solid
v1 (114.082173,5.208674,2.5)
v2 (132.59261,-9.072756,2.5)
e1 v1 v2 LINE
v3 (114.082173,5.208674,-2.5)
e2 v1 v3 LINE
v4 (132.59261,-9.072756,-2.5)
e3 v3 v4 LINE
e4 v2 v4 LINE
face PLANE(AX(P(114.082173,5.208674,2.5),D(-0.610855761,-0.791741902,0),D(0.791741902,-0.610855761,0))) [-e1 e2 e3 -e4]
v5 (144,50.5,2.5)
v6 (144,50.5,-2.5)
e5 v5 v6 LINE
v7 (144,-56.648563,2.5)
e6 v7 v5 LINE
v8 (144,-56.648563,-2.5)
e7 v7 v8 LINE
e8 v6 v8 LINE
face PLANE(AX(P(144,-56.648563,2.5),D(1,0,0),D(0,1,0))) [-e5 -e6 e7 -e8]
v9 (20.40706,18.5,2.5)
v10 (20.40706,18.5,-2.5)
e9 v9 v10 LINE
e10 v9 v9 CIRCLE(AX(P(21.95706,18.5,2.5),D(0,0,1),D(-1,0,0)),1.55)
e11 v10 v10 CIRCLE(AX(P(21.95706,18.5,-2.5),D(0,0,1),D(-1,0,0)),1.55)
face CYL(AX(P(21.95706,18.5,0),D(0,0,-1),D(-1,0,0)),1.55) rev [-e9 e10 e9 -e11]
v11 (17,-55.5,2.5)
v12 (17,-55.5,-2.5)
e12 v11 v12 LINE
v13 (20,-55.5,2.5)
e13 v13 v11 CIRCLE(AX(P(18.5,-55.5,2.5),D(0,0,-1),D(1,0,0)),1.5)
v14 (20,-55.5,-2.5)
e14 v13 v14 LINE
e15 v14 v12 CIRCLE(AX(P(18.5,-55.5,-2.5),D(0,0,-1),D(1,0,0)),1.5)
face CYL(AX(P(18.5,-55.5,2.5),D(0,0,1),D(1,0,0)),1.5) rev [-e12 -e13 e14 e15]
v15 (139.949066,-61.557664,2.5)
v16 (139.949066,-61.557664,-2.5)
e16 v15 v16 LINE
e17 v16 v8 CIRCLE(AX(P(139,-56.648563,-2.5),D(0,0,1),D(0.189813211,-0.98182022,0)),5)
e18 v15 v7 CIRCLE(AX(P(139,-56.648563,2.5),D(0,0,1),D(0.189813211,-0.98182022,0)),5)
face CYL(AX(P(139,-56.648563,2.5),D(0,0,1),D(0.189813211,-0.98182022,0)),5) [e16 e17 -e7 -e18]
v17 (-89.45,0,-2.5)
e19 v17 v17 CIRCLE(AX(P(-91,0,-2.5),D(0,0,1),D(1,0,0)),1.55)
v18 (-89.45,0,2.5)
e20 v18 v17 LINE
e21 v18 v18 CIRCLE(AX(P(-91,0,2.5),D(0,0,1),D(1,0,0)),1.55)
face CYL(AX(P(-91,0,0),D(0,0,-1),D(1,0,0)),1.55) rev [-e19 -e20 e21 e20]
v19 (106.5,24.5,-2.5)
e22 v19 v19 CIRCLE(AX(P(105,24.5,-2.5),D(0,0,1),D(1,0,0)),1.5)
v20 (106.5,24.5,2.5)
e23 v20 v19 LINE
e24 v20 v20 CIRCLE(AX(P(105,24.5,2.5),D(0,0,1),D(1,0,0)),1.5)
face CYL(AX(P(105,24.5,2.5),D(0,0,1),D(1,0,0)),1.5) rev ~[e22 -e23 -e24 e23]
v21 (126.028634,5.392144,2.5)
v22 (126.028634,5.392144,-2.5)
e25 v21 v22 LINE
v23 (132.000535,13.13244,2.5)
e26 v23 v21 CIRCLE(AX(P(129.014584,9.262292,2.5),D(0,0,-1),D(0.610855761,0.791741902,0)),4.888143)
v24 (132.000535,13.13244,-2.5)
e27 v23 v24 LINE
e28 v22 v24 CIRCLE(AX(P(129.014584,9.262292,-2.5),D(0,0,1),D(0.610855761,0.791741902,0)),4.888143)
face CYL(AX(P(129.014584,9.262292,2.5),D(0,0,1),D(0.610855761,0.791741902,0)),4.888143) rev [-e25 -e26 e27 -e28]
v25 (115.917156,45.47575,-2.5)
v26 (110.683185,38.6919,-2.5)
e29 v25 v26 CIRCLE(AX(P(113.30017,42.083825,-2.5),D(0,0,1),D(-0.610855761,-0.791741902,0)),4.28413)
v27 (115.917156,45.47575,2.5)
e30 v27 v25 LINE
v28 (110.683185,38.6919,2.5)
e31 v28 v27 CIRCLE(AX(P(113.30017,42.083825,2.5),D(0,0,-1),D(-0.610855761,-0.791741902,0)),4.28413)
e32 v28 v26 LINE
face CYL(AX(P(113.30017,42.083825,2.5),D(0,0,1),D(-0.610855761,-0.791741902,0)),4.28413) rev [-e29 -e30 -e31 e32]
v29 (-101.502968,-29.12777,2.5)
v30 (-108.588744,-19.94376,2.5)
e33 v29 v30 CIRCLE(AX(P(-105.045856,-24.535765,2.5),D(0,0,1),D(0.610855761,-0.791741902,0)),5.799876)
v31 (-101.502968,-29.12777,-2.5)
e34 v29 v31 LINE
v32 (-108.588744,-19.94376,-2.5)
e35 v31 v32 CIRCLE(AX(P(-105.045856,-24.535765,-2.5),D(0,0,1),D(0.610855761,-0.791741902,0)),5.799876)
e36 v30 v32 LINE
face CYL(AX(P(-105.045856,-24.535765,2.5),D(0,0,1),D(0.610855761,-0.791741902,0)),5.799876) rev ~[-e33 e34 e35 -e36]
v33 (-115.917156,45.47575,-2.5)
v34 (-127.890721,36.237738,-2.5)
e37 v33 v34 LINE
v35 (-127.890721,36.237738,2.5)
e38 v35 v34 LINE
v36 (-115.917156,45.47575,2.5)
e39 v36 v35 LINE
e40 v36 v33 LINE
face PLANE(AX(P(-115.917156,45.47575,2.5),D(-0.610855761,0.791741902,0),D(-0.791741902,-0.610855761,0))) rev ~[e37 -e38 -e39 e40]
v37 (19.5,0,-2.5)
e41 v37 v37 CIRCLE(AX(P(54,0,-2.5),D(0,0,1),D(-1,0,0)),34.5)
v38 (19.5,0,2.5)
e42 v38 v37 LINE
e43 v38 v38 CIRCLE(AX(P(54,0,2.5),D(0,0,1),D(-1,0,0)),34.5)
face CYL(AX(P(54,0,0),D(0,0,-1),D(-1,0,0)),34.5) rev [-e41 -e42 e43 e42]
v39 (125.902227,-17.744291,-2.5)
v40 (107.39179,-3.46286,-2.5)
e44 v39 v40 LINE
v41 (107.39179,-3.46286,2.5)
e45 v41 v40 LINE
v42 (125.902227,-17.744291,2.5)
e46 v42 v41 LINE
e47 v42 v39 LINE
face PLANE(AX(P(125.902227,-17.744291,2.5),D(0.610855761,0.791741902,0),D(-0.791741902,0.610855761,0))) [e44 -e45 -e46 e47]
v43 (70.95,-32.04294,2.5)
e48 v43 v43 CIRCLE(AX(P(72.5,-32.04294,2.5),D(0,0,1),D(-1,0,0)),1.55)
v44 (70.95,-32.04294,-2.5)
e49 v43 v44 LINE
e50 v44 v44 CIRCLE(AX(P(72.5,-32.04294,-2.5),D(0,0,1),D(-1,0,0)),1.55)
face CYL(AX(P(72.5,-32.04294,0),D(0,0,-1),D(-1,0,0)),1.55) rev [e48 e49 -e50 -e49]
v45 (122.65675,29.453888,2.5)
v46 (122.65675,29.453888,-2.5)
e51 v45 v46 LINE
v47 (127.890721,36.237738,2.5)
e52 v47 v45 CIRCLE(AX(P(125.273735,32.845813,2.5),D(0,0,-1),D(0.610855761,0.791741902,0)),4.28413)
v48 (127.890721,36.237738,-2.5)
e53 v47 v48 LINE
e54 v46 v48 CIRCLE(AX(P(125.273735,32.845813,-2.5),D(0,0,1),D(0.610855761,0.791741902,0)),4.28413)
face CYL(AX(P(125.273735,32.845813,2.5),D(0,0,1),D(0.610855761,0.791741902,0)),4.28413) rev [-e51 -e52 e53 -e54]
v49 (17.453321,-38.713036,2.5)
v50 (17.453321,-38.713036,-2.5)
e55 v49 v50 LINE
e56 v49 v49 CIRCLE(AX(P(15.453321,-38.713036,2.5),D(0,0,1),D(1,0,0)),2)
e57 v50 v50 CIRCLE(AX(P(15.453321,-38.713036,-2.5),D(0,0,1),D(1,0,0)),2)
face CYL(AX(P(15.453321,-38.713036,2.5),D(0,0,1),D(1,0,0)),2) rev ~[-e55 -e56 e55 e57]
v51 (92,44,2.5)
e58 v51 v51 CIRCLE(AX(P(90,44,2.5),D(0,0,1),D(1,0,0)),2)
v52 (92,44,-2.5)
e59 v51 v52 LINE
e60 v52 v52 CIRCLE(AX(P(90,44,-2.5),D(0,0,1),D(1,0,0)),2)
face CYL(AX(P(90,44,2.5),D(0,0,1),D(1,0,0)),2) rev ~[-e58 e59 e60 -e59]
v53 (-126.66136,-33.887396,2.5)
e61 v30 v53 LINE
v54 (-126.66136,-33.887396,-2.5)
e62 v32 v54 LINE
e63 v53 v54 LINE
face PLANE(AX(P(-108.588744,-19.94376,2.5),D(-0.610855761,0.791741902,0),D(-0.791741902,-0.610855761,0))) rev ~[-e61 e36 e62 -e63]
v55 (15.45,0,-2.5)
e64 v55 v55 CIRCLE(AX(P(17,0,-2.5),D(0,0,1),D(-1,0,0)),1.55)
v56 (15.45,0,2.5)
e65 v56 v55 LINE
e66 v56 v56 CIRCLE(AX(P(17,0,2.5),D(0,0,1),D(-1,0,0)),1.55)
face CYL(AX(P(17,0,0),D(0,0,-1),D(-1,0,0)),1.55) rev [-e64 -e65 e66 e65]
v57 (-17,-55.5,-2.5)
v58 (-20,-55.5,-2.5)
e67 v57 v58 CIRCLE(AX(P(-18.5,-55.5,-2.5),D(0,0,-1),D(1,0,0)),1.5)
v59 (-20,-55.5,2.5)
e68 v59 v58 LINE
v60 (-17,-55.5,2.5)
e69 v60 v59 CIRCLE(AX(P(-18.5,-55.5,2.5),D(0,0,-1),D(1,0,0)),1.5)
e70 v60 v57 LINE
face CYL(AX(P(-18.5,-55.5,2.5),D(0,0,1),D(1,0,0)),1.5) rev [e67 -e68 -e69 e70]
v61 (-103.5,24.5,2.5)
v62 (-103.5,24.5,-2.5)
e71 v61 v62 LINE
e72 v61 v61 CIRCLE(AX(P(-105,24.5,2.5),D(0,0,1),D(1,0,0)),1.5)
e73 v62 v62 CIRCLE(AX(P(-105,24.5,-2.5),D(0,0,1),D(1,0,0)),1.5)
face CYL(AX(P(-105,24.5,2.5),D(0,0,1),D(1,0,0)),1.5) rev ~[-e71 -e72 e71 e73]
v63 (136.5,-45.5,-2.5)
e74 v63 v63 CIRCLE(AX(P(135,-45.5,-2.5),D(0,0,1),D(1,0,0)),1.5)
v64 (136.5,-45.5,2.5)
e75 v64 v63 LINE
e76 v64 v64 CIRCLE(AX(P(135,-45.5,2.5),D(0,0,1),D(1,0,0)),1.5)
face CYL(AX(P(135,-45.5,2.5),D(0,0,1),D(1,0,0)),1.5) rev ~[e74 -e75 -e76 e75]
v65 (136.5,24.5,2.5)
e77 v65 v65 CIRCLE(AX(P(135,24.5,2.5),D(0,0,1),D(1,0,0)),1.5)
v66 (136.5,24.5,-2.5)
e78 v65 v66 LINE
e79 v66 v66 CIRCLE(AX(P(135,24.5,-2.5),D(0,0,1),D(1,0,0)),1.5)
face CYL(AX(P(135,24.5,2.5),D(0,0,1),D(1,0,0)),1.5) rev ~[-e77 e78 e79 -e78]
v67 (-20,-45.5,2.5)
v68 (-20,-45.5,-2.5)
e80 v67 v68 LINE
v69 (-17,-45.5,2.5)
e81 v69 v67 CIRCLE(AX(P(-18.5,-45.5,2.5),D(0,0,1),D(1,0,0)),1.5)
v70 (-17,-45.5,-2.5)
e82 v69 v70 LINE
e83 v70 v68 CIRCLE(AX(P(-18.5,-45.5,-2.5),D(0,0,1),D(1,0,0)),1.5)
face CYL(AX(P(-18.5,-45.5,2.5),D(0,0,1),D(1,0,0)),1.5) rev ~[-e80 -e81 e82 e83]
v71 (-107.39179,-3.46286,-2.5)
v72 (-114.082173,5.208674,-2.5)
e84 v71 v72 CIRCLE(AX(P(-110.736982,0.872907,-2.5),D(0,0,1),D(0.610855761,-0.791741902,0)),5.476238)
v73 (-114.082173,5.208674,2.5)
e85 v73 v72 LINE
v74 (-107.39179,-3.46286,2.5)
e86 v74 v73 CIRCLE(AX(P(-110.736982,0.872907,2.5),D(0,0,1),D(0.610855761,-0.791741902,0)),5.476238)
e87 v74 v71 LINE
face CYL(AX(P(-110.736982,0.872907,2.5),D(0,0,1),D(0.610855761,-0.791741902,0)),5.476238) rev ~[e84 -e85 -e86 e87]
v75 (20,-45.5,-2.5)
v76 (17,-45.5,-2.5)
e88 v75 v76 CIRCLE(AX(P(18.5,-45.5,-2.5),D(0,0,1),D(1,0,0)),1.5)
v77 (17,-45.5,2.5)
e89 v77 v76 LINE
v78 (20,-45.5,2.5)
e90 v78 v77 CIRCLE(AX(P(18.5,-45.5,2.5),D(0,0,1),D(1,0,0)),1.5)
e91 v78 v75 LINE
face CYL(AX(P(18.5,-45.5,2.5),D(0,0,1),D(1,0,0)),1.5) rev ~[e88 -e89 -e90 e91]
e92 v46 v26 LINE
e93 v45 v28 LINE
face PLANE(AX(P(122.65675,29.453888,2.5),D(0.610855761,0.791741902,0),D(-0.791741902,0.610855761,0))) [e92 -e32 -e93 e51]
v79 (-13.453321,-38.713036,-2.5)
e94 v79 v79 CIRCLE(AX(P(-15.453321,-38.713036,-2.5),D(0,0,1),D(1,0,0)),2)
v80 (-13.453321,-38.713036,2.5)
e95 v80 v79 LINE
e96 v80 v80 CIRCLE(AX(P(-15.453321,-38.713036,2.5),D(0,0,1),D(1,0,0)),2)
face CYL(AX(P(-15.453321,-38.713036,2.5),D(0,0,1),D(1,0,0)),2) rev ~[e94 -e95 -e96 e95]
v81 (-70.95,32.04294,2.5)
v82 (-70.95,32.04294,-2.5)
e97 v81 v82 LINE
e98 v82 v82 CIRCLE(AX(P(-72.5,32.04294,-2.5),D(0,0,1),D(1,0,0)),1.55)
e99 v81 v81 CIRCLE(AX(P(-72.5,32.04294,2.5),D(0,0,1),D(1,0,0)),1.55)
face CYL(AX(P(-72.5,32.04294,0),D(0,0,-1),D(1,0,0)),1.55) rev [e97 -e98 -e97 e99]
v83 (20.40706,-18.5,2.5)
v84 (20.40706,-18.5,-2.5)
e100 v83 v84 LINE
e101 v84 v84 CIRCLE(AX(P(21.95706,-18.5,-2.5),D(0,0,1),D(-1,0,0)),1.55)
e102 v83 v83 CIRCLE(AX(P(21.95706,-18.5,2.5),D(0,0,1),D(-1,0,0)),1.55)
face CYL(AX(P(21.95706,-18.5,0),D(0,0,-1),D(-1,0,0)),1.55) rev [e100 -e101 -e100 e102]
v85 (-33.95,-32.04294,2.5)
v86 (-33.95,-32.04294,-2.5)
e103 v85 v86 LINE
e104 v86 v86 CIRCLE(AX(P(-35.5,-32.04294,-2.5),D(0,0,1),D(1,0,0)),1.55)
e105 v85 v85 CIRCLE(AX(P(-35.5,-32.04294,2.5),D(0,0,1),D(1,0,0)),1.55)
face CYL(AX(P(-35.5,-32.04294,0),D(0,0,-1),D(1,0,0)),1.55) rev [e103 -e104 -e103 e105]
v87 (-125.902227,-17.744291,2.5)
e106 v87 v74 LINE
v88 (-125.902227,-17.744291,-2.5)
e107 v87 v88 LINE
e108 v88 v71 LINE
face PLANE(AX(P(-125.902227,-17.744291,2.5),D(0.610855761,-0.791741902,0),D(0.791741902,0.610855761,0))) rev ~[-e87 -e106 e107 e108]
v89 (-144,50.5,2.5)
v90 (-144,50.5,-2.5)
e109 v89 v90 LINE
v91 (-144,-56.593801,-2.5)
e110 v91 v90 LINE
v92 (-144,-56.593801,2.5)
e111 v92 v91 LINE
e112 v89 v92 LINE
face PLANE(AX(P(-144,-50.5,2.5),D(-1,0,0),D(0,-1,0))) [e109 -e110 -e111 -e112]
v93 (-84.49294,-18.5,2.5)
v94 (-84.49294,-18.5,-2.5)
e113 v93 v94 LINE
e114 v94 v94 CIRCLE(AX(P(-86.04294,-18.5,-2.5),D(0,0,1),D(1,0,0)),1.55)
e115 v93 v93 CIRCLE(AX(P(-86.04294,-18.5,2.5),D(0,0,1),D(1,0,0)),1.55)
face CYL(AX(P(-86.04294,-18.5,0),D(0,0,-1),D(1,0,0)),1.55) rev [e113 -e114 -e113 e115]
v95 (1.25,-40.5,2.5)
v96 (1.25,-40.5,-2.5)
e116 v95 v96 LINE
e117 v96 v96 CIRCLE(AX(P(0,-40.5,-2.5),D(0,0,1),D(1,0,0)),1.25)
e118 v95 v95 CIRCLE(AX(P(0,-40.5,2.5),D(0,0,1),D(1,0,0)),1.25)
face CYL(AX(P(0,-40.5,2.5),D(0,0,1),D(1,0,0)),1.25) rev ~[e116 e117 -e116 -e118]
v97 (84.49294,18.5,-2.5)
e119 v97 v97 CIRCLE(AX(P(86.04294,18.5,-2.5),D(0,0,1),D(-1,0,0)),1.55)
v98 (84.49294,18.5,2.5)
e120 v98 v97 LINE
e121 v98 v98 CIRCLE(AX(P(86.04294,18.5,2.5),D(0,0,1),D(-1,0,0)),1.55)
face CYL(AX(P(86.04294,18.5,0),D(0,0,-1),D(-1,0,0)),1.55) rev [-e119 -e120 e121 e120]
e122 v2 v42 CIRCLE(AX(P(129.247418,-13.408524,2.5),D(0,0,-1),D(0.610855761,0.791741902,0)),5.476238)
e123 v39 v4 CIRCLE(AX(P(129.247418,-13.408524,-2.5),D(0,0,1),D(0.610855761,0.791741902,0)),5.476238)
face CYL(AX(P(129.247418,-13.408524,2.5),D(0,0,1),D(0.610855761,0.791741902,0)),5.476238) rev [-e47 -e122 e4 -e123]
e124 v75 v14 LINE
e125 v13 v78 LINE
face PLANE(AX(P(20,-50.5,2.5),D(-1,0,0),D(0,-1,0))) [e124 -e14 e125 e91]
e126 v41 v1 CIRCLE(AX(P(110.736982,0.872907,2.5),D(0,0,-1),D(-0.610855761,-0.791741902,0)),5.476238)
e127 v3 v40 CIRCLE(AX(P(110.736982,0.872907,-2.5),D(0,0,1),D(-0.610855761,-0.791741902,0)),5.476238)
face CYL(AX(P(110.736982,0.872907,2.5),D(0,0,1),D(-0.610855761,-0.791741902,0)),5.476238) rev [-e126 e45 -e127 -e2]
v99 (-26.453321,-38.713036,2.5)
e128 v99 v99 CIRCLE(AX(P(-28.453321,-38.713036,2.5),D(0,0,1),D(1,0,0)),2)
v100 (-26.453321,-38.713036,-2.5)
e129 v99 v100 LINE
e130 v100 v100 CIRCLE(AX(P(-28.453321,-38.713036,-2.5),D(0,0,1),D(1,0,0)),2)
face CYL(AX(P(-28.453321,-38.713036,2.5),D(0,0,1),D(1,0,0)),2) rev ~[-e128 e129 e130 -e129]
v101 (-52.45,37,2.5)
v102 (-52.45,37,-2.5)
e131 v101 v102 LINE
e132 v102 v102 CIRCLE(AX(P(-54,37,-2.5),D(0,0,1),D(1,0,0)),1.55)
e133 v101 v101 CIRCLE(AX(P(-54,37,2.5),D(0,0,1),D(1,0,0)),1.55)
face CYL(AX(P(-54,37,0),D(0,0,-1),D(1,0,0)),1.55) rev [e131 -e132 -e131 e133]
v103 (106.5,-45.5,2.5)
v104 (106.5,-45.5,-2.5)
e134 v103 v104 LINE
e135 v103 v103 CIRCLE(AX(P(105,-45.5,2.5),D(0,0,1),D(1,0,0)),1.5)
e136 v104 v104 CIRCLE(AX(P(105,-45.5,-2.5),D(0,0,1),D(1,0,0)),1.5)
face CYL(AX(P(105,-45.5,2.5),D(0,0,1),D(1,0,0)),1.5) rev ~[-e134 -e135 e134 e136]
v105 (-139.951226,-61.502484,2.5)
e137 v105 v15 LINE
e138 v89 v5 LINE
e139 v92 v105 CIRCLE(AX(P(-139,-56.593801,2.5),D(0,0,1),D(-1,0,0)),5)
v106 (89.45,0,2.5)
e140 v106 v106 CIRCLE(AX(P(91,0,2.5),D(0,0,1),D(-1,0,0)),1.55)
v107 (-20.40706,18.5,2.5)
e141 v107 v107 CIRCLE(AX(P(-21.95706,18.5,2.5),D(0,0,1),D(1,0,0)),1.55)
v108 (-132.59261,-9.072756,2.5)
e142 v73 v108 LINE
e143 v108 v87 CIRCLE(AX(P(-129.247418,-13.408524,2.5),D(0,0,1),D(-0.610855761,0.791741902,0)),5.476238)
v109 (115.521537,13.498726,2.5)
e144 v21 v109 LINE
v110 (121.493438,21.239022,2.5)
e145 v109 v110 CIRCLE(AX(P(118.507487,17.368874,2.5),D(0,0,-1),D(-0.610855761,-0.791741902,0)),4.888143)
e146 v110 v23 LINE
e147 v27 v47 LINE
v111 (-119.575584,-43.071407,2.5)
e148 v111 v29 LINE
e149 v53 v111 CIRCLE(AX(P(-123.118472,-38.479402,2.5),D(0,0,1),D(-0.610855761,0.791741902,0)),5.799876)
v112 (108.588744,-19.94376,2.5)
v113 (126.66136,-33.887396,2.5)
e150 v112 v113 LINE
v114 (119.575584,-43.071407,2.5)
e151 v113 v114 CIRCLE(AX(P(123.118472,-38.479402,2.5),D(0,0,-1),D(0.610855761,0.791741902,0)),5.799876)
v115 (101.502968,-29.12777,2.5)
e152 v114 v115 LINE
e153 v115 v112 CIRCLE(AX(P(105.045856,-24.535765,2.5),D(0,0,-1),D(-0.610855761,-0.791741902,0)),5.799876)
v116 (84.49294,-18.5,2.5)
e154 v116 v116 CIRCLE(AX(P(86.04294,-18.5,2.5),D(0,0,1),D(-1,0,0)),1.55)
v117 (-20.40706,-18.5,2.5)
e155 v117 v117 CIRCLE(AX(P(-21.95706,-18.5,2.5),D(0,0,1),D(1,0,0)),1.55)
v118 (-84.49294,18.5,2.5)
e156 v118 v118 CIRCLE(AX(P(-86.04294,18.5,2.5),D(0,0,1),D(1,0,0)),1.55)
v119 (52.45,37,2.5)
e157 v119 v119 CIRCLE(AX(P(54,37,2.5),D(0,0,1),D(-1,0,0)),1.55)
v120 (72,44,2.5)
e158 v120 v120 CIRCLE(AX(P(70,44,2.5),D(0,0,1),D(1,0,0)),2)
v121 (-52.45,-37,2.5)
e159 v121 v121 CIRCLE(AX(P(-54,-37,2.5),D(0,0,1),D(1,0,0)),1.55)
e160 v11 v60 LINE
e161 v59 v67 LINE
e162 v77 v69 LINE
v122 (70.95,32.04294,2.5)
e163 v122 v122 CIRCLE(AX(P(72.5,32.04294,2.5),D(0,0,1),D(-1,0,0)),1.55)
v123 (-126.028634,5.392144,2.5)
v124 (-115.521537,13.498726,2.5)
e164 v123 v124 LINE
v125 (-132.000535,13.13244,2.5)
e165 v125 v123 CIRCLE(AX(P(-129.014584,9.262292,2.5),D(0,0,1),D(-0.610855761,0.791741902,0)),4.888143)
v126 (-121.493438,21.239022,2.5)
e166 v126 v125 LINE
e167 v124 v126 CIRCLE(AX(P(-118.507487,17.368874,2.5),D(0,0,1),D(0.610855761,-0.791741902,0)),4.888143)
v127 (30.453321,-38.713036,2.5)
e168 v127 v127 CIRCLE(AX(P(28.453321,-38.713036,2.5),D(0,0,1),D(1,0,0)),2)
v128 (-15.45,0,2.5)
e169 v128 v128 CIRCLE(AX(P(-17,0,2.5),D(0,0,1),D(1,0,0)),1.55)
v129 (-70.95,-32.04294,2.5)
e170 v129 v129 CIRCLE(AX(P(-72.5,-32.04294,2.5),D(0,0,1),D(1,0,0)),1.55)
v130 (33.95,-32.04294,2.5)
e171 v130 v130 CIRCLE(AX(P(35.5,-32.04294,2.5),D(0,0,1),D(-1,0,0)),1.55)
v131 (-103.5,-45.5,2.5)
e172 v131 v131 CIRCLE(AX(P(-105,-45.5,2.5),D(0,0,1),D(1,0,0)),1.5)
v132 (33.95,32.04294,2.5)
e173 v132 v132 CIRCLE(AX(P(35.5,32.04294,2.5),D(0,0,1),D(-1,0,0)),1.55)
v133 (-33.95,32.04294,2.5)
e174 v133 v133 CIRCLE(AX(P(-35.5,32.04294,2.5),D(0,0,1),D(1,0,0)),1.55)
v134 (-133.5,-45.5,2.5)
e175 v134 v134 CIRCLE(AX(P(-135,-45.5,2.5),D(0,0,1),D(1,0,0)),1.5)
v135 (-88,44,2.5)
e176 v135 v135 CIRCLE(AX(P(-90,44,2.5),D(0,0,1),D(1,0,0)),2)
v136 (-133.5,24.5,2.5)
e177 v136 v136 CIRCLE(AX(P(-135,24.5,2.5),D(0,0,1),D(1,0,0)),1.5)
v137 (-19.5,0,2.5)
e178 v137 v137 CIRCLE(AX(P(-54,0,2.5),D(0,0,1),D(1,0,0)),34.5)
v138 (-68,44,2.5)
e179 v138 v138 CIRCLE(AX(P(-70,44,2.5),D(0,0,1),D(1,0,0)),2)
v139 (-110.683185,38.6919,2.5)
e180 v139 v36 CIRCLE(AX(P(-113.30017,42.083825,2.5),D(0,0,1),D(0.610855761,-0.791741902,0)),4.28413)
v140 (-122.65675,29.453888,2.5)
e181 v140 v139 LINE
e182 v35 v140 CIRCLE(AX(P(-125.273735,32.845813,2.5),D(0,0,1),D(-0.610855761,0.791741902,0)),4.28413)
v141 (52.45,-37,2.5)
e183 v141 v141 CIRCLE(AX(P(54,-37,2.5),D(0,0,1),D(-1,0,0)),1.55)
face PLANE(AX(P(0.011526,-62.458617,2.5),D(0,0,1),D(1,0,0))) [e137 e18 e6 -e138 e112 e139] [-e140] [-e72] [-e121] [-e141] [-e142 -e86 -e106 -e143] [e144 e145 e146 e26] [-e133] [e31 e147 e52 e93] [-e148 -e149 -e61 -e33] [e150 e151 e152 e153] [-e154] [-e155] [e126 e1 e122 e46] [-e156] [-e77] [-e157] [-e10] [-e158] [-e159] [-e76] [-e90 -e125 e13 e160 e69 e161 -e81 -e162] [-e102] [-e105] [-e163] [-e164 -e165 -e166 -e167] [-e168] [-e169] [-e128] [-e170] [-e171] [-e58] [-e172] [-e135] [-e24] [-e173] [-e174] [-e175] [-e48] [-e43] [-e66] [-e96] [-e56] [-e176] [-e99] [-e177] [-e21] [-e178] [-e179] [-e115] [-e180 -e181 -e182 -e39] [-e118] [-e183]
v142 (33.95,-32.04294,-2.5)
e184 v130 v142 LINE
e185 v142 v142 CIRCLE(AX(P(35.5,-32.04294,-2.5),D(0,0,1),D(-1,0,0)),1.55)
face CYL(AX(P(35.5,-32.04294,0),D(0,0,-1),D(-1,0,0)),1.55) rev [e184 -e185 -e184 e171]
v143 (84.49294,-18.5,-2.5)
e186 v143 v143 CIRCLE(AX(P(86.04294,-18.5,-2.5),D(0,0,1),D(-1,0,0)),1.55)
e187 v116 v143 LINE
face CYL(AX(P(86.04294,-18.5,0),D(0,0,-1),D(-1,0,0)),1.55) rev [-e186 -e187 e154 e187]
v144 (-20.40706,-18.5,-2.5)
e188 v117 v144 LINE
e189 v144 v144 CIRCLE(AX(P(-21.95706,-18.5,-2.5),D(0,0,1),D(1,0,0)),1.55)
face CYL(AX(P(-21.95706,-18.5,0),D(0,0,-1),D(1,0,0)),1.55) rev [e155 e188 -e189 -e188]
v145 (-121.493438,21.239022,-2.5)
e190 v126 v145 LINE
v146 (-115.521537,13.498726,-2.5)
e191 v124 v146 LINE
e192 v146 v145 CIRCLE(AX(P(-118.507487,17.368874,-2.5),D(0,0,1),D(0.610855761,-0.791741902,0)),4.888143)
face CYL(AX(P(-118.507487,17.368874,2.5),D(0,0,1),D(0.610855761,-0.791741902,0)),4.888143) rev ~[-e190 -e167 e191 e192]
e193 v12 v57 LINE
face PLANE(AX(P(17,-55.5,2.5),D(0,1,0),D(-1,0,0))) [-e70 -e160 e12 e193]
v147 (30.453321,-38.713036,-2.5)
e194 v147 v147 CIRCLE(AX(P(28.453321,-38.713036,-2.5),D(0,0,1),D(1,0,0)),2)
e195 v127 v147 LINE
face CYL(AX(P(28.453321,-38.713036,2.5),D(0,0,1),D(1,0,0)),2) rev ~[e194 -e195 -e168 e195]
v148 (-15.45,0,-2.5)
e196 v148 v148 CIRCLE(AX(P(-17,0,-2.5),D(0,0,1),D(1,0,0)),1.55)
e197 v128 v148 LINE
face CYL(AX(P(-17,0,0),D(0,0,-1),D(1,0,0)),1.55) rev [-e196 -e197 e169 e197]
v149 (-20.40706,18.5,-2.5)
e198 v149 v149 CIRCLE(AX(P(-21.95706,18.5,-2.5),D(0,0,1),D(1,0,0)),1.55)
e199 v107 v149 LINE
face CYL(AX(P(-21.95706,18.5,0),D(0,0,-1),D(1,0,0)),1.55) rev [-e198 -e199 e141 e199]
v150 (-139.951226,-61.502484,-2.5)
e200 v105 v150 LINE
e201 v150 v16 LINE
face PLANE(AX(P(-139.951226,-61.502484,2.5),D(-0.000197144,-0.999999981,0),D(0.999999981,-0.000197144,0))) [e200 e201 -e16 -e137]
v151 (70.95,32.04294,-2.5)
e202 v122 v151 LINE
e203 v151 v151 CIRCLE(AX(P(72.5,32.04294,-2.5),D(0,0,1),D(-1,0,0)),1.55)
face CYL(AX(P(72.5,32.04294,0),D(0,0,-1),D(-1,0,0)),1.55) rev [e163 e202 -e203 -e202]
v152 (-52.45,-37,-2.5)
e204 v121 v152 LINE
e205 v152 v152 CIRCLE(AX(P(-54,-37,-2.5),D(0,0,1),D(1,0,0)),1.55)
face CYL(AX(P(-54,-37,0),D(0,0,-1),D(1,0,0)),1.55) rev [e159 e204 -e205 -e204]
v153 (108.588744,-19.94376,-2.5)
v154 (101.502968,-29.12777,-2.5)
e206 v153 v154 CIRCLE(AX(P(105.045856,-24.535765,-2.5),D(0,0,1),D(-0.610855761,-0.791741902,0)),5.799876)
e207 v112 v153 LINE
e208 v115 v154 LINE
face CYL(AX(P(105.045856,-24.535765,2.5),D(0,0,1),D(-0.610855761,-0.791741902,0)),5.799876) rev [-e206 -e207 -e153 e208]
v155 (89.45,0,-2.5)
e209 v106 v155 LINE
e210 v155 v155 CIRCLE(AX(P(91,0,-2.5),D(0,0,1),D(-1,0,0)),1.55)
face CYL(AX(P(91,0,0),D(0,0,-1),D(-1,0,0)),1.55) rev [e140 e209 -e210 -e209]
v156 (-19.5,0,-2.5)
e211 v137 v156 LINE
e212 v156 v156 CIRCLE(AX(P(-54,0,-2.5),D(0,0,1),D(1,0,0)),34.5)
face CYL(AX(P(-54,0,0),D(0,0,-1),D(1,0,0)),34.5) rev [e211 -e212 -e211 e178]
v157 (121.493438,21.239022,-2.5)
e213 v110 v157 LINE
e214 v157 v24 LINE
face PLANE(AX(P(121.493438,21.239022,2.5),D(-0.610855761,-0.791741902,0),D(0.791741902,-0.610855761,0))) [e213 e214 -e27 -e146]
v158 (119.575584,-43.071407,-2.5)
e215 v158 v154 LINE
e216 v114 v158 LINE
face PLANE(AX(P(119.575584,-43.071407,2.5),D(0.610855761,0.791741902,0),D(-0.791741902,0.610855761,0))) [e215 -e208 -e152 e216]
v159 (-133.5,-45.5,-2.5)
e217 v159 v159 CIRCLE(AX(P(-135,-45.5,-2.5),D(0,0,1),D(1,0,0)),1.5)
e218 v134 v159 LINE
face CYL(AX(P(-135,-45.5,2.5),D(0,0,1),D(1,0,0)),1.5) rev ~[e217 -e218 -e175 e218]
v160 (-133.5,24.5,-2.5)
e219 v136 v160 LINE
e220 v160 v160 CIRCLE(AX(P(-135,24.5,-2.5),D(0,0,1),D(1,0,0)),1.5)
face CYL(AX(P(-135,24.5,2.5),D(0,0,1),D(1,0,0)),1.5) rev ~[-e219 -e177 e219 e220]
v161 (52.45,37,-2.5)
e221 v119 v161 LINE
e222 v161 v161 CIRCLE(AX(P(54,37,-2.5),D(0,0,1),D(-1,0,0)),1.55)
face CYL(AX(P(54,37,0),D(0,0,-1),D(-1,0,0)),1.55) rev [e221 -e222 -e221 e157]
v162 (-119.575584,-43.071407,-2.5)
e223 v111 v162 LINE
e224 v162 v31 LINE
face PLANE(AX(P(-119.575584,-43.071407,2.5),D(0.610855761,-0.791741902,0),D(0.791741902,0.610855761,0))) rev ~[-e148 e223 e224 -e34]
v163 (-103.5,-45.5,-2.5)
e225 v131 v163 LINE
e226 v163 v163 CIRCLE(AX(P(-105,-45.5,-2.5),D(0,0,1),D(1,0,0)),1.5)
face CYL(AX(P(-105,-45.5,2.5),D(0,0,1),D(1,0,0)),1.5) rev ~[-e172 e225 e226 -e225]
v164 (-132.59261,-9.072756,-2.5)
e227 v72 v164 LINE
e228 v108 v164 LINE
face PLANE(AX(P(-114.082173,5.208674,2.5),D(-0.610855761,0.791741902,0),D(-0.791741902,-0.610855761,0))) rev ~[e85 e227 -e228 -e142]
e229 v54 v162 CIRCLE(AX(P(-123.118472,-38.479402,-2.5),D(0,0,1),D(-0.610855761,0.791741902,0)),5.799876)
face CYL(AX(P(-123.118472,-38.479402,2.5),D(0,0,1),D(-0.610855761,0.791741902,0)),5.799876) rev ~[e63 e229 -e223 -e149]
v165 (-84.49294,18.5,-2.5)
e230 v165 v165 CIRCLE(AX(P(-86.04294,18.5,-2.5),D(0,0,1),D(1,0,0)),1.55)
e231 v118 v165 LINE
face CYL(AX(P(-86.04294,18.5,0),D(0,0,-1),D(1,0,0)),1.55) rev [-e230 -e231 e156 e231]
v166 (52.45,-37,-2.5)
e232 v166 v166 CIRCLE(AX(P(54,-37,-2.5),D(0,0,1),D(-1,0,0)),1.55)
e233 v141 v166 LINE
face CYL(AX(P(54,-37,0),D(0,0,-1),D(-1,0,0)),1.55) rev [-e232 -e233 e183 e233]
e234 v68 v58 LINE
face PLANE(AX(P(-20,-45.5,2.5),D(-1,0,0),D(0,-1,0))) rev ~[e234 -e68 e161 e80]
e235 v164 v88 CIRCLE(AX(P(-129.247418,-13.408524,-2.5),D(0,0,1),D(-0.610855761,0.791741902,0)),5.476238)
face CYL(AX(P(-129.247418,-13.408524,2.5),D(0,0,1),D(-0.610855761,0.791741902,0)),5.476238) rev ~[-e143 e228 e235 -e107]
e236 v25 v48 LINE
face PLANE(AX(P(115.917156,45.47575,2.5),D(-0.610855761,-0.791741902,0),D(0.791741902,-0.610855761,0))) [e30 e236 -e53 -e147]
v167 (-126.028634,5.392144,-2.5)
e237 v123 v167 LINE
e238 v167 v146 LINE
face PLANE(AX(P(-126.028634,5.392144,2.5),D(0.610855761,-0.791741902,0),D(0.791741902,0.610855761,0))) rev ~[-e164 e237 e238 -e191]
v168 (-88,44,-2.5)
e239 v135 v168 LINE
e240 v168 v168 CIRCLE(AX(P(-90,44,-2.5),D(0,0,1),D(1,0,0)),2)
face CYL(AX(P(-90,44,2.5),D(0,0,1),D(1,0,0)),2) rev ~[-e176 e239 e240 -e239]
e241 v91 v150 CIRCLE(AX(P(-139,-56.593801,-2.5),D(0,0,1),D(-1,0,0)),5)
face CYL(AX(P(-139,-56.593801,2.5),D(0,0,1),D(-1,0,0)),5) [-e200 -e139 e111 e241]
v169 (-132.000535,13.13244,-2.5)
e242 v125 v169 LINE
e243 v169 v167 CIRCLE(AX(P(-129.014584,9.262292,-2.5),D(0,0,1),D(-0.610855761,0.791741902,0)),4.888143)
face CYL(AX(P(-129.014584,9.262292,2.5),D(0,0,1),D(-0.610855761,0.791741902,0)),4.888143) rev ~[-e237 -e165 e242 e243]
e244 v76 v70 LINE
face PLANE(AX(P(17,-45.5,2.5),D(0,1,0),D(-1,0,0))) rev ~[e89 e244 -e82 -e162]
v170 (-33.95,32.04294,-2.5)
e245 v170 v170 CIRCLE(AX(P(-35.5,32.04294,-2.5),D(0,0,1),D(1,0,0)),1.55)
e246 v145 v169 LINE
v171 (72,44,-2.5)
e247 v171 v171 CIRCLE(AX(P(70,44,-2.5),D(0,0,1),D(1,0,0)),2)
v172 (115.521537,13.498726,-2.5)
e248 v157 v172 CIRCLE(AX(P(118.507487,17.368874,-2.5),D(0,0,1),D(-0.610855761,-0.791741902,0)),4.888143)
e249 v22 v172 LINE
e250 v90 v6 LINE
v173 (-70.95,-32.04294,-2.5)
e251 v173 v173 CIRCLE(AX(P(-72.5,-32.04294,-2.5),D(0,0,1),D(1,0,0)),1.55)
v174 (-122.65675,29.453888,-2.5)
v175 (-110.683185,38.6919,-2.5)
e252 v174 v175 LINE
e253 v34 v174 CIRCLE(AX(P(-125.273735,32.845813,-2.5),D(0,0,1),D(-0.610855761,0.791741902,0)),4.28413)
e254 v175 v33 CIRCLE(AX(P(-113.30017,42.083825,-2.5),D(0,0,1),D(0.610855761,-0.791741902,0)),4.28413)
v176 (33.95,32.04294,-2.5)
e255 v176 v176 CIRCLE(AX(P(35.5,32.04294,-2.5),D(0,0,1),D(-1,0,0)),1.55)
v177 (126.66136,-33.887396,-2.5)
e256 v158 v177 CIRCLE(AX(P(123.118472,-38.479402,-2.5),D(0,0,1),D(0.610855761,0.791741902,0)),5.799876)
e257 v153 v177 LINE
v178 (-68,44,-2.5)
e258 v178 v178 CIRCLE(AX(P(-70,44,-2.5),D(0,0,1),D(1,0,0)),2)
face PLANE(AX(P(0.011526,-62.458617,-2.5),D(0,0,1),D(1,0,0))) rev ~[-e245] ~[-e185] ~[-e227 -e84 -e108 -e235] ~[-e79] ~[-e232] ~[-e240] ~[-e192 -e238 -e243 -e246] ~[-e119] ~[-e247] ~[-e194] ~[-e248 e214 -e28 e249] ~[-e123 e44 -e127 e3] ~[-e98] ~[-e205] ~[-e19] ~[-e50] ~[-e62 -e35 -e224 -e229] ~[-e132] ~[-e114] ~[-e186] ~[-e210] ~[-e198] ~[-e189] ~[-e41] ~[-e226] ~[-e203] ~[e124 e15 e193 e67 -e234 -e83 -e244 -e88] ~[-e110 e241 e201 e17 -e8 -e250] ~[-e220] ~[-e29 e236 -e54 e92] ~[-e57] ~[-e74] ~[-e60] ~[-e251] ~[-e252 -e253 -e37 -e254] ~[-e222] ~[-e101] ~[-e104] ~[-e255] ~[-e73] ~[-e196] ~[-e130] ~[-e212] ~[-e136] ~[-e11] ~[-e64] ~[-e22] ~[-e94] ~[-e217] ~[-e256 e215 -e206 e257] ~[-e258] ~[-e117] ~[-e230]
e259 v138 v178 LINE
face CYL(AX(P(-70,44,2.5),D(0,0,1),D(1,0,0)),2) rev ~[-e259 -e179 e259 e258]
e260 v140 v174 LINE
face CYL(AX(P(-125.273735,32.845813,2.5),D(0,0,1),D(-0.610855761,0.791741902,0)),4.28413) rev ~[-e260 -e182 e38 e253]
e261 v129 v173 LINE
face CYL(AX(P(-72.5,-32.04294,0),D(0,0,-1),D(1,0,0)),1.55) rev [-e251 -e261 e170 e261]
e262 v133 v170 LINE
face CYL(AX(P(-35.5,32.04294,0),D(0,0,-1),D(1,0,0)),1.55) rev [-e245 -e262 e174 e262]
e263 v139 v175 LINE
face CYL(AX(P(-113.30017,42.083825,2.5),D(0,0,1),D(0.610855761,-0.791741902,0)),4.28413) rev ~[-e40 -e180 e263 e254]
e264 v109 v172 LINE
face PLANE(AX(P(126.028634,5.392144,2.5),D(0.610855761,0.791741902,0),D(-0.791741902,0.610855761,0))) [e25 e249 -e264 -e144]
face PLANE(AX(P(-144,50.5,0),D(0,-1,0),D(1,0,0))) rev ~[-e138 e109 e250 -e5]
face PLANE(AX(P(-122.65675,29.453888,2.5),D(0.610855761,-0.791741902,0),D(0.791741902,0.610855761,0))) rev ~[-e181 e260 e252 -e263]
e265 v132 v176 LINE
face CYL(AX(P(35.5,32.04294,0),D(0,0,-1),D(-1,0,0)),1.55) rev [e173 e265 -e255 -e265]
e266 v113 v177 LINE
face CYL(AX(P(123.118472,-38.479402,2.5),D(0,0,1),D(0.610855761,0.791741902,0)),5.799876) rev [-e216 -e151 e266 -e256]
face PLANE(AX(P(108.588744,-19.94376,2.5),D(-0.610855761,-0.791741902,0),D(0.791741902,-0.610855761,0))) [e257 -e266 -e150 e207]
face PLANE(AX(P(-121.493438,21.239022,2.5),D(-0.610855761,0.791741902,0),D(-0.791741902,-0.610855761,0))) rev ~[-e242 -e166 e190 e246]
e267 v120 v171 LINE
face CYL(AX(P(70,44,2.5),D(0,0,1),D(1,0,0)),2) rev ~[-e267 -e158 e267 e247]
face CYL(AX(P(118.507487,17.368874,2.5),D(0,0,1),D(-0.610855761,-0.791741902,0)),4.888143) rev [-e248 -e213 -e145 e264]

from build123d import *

# Parameters (mm, degrees)
SKETCH_1_W          = 288
SKETCH_1_H          = 101
SKETCH_1_R          = 34.5
SKETCH_1_R_2        = 1.55
EXTRUDE_1_DEPTH     = 2.5
SKETCH_2_R          = 1.5
CUT_EXTRUDE_1_DEPTH = 5
EXTRUDE_2_DEPTH     = 5
CUT_EXTRUDE_2_DEPTH = 5
CUT_EXTRUDE_3_DEPTH = 10
SKETCH_5_R          = 2
CUT_EXTRUDE_4_DEPTH = 10
SKETCH_6_R          = 1.25
CUT_EXTRUDE_5_DEPTH = 10
SKETCH_7_R          = 2
CUT_EXTRUDE_6_DEPTH = 5.5
CUT_EXTRUDE_7_DEPTH = 10
SKETCH_9_R          = 2
CUT_EXTRUDE_8_DEPTH = 10
SKETCH_10_R         = 2
CUT_EXTRUDE_9_DEPTH = 10


with BuildPart() as part:
    # 草图1 → 凸台-拉伸1 (new, symmetric)
    with BuildSketch(Plane.XY):
        Rectangle(SKETCH_1_W, SKETCH_1_H)
        with Locations((-54, 0)):
            Circle(SKETCH_1_R, mode=Mode.SUBTRACT)
        with Locations((-54, 37)):
            Circle(SKETCH_1_R_2, mode=Mode.SUBTRACT)
        with Locations((-35.5, 32.04293994)):
            Circle(SKETCH_1_R_2, mode=Mode.SUBTRACT)
        with Locations((-21.95706006, 18.5)):
            Circle(SKETCH_1_R_2, mode=Mode.SUBTRACT)
        with Locations((-17, 0)):
            Circle(SKETCH_1_R_2, mode=Mode.SUBTRACT)
        with Locations((-21.95706006, -18.5)):
            Circle(SKETCH_1_R_2, mode=Mode.SUBTRACT)
        with Locations((-35.5, -32.04293994)):
            Circle(SKETCH_1_R_2, mode=Mode.SUBTRACT)
        with Locations((-54, -37)):
            Circle(SKETCH_1_R_2, mode=Mode.SUBTRACT)
        with Locations((-72.5, -32.04293994)):
            Circle(SKETCH_1_R_2, mode=Mode.SUBTRACT)
        with Locations((-86.04293994, -18.5)):
            Circle(SKETCH_1_R_2, mode=Mode.SUBTRACT)
        with Locations((-91, 0)):
            Circle(SKETCH_1_R_2, mode=Mode.SUBTRACT)
        with Locations((-86.04293994, 18.5)):
            Circle(SKETCH_1_R_2, mode=Mode.SUBTRACT)
        with Locations((-72.5, 32.04293994)):
            Circle(SKETCH_1_R_2, mode=Mode.SUBTRACT)
        with Locations((72.5, 32.04293994)):
            Circle(SKETCH_1_R_2, mode=Mode.SUBTRACT)
        with Locations((86.04293994, 18.5)):
            Circle(SKETCH_1_R_2, mode=Mode.SUBTRACT)
        with Locations((91, 0)):
            Circle(SKETCH_1_R_2, mode=Mode.SUBTRACT)
        with Locations((86.04293994, -18.5)):
            Circle(SKETCH_1_R_2, mode=Mode.SUBTRACT)
        with Locations((72.5, -32.04293994)):
            Circle(SKETCH_1_R_2, mode=Mode.SUBTRACT)
        with Locations((54, -37)):
            Circle(SKETCH_1_R_2, mode=Mode.SUBTRACT)
        with Locations((35.5, -32.04293994)):
            Circle(SKETCH_1_R_2, mode=Mode.SUBTRACT)
        with Locations((21.95706006, -18.5)):
            Circle(SKETCH_1_R_2, mode=Mode.SUBTRACT)
        with Locations((17, 0)):
            Circle(SKETCH_1_R_2, mode=Mode.SUBTRACT)
        with Locations((21.95706006, 18.5)):
            Circle(SKETCH_1_R_2, mode=Mode.SUBTRACT)
        with Locations((35.5, 32.04293994)):
            Circle(SKETCH_1_R_2, mode=Mode.SUBTRACT)
        with Locations((54, 37)):
            Circle(SKETCH_1_R_2, mode=Mode.SUBTRACT)
        with Locations((54, 0)):
            Circle(SKETCH_1_R, mode=Mode.SUBTRACT)
    extrude(amount=EXTRUDE_1_DEPTH, both=True)

    # 草图2 → 切除-拉伸1 (cut)
    with BuildSketch(Plane.XY.offset(2.5)):
        with Locations((135, -45.5)):
            Circle(SKETCH_2_R)
        with Locations((105, -45.5)):
            Circle(SKETCH_2_R)
        with Locations((135, 24.5)):
            Circle(SKETCH_2_R)
        with Locations((105, 24.5)):
            Circle(SKETCH_2_R)
        with Locations((-105, -45.5)):
            Circle(SKETCH_2_R)
        with Locations((-135, -45.5)):
            Circle(SKETCH_2_R)
        with Locations((-105, 24.5)):
            Circle(SKETCH_2_R)
        with Locations((-135, 24.5)):
            Circle(SKETCH_2_R)
    extrude(amount=-CUT_EXTRUDE_1_DEPTH, mode=Mode.SUBTRACT)

    # 草图3 → 凸台-拉伸2 (add)
    with BuildSketch(Plane.XY.offset(2.5)):
        with BuildLine():
            Line((144, -50.5), (20, -50.5))
            Line((20, -50.5), (20, -55.5))
            ThreePointArc((20, -55.5), (18.5, -57), (17, -55.5))
            Line((17, -55.5), (-17, -55.5))
            ThreePointArc((-17, -55.5), (-18.5, -57), (-20, -55.5))
            Line((-20, -55.5), (-20, -50.5))
            Line((-20, -50.5), (-144, -50.5))
            Line((-144, -50.5), (-144, -56.593800871))
            ThreePointArc((-144, -56.593800871), (-142.857209562, -59.775299636), (-139.951226243, -61.502483855))
            Line((-139.951226243, -61.502483855), (-20.471229939, -84.655844628))
            ThreePointArc((-20.471229939, -84.655844628), (-19.997803382, -84.724280033), (-19.520003695, -84.747161644))
            Line((-19.520003695, -84.747161644), (19.521113953, -84.747161644))
            ThreePointArc((19.521113953, -84.747161644), (19.997818521, -84.724385042), (20.470180004, -84.656262746))
            Line((20.470180004, -84.656262746), (139.949066052, -61.557664392))
            ThreePointArc((139.949066052, -61.557664392), (142.856509449, -59.830910673), (144, -56.64856329))
            Line((144, -56.64856329), (144, -50.5))
        make_face()
    extrude(amount=-EXTRUDE_2_DEPTH)

    # 草图3<3> → 切除-拉伸2 (cut)
    with BuildSketch(Plane.XY.offset(2.5)):
        with BuildLine():
            Line((17, -45.5), (-17, -45.5))
            ThreePointArc((-17, -45.5), (-18.5, -44), (-20, -45.5))
            Line((-20, -45.5), (-20, -50.5))
            Line((-20, -50.5), (20, -50.5))
            Line((20, -50.5), (20, -45.5))
            ThreePointArc((20, -45.5), (18.5, -44), (17, -45.5))
        make_face()
    extrude(amount=-CUT_EXTRUDE_2_DEPTH, mode=Mode.SUBTRACT)

    # 草图4 → 切除-拉伸3 (cut)
    with BuildSketch(Plane.XY.offset(2.5)):
        Polygon((-139.951226243, -61.502483855), (139.949066052, -61.557664392), (30.752560592, -109.96050726), align=None)
    extrude(amount=-CUT_EXTRUDE_3_DEPTH, mode=Mode.SUBTRACT)

    # 草图5 → 切除-拉伸4 (cut)
    with BuildSketch(Plane.XY.offset(2.5)):
        with Locations((28.453320593, -38.713035771)):
            Circle(SKETCH_5_R)
        with Locations((-28.453320593, -38.713035771)):
            Circle(SKETCH_5_R)
    extrude(amount=-CUT_EXTRUDE_4_DEPTH, mode=Mode.SUBTRACT)

    # 草图6 → 切除-拉伸5 (cut)
    with BuildSketch(Plane.XY.offset(2.5)):
        with Locations((0, -40.5)):
            Circle(SKETCH_6_R)
    extrude(amount=-CUT_EXTRUDE_5_DEPTH, mode=Mode.SUBTRACT)

    # 草图7 → 切除-拉伸6 (cut)
    with BuildSketch(Plane.XY.offset(2.5)):
        with Locations((90, 44)):
            Circle(SKETCH_7_R)
        with Locations((70, 44)):
            Circle(SKETCH_7_R)
    extrude(amount=-CUT_EXTRUDE_6_DEPTH, mode=Mode.SUBTRACT)

    # 草图8 → 切除-拉伸7 (cut)
    with BuildSketch(Plane.XY.offset(2.5)):
        with BuildLine():
            Line((-126.028633635, 5.392144418), (-115.521536728, 13.498726459))
            ThreePointArc((-115.521536728, 13.498726459), (-114.63733934, 20.354824934), (-121.493437815, 21.239022322))
            Line((-121.493437815, 21.239022322), (-132.000534722, 13.132440281))
            ThreePointArc((-132.000534722, 13.132440281), (-132.88473211, 6.276341806), (-126.028633635, 5.392144418))
        make_face()
        with BuildLine():
            Line((-125.902226808, -17.744290693), (-107.39178991, -3.462860089))
            ThreePointArc((-107.39178991, -3.462860089), (-106.401214333, 4.218098708), (-114.082173129, 5.208674285))
            Line((-114.082173129, 5.208674285), (-132.592610027, -9.072756319))
            ThreePointArc((-132.592610027, -9.072756319), (-133.583185604, -16.753715115), (-125.902226808, -17.744290693))
        make_face()
        with BuildLine():
            Line((-119.575583656, -43.071406764), (-101.502967944, -29.127770071))
            ThreePointArc((-101.502967944, -29.127770071), (-100.453850675, -20.992876886), (-108.58874386, -19.943759617))
            Line((-108.58874386, -19.943759617), (-126.661359573, -33.88739631))
            ThreePointArc((-126.661359573, -33.88739631), (-127.710476842, -42.022289495), (-119.575583656, -43.071406764))
        make_face()
        with BuildLine():
            Line((-115.917155682, 45.475749506), (-127.890720707, 36.237737517))
            ThreePointArc((-127.890720707, 36.237737517), (-128.665660372, 30.228827371), (-122.656750226, 29.453887705))
            Line((-122.656750226, 29.453887705), (-110.683185201, 38.691899695))
            ThreePointArc((-110.683185201, 38.691899695), (-109.908245536, 44.700809841), (-115.917155682, 45.475749506))
        make_face()
        with BuildLine():
            ThreePointArc((122.656750226, 29.453887705), (128.665660372, 30.228827371), (127.890720707, 36.237737517))
            Line((127.890720707, 36.237737517), (115.917155682, 45.475749506))
            ThreePointArc((115.917155682, 45.475749506), (109.908245536, 44.700809841), (110.683185201, 38.691899695))
            Line((110.683185201, 38.691899695), (122.656750226, 29.453887705))
        make_face()
        with BuildLine():
            ThreePointArc((108.58874386, -19.943759617), (100.453850675, -20.992876886), (101.502967944, -29.127770071))
            Line((101.502967944, -29.127770071), (119.575583656, -43.071406764))
            ThreePointArc((119.575583656, -43.071406764), (127.710476842, -42.022289495), (126.661359573, -33.88739631))
            Line((126.661359573, -33.88739631), (108.58874386, -19.943759617))
        make_face()
        with BuildLine():
            ThreePointArc((114.082173129, 5.208674285), (106.401214333, 4.218098708), (107.39178991, -3.462860089))
            Line((107.39178991, -3.462860089), (125.902226808, -17.744290693))
            ThreePointArc((125.902226808, -17.744290693), (133.583185604, -16.753715115), (132.592610027, -9.072756319))
            Line((132.592610027, -9.072756319), (114.082173129, 5.208674285))
        make_face()
        with BuildLine():
            ThreePointArc((121.493437815, 21.239022322), (114.63733934, 20.354824934), (115.521536728, 13.498726459))
            Line((115.521536728, 13.498726459), (126.028633635, 5.392144418))
            ThreePointArc((126.028633635, 5.392144418), (132.88473211, 6.276341806), (132.000534722, 13.132440281))
            Line((132.000534722, 13.132440281), (121.493437815, 21.239022322))
        make_face()
    extrude(amount=-CUT_EXTRUDE_7_DEPTH, mode=Mode.SUBTRACT)

    # 草图9 → 切除-拉伸8 (cut)
    with BuildSketch(Plane.XY.offset(2.5)):
        with Locations((15.453320593, -38.713035771)):
            Circle(SKETCH_9_R)
        with Locations((-15.453320593, -38.713035771)):
            Circle(SKETCH_9_R)
    extrude(amount=-CUT_EXTRUDE_8_DEPTH, mode=Mode.SUBTRACT)

    # 草图10 → 切除-拉伸9 (cut)
    with BuildSketch(Plane.XY.offset(2.5)):
        with Locations((-70, 44)):
            Circle(SKETCH_10_R)
        with Locations((-90, 44)):
            Circle(SKETCH_10_R)
    extrude(amount=-CUT_EXTRUDE_9_DEPTH, mode=Mode.SUBTRACT)


solid = part.part
